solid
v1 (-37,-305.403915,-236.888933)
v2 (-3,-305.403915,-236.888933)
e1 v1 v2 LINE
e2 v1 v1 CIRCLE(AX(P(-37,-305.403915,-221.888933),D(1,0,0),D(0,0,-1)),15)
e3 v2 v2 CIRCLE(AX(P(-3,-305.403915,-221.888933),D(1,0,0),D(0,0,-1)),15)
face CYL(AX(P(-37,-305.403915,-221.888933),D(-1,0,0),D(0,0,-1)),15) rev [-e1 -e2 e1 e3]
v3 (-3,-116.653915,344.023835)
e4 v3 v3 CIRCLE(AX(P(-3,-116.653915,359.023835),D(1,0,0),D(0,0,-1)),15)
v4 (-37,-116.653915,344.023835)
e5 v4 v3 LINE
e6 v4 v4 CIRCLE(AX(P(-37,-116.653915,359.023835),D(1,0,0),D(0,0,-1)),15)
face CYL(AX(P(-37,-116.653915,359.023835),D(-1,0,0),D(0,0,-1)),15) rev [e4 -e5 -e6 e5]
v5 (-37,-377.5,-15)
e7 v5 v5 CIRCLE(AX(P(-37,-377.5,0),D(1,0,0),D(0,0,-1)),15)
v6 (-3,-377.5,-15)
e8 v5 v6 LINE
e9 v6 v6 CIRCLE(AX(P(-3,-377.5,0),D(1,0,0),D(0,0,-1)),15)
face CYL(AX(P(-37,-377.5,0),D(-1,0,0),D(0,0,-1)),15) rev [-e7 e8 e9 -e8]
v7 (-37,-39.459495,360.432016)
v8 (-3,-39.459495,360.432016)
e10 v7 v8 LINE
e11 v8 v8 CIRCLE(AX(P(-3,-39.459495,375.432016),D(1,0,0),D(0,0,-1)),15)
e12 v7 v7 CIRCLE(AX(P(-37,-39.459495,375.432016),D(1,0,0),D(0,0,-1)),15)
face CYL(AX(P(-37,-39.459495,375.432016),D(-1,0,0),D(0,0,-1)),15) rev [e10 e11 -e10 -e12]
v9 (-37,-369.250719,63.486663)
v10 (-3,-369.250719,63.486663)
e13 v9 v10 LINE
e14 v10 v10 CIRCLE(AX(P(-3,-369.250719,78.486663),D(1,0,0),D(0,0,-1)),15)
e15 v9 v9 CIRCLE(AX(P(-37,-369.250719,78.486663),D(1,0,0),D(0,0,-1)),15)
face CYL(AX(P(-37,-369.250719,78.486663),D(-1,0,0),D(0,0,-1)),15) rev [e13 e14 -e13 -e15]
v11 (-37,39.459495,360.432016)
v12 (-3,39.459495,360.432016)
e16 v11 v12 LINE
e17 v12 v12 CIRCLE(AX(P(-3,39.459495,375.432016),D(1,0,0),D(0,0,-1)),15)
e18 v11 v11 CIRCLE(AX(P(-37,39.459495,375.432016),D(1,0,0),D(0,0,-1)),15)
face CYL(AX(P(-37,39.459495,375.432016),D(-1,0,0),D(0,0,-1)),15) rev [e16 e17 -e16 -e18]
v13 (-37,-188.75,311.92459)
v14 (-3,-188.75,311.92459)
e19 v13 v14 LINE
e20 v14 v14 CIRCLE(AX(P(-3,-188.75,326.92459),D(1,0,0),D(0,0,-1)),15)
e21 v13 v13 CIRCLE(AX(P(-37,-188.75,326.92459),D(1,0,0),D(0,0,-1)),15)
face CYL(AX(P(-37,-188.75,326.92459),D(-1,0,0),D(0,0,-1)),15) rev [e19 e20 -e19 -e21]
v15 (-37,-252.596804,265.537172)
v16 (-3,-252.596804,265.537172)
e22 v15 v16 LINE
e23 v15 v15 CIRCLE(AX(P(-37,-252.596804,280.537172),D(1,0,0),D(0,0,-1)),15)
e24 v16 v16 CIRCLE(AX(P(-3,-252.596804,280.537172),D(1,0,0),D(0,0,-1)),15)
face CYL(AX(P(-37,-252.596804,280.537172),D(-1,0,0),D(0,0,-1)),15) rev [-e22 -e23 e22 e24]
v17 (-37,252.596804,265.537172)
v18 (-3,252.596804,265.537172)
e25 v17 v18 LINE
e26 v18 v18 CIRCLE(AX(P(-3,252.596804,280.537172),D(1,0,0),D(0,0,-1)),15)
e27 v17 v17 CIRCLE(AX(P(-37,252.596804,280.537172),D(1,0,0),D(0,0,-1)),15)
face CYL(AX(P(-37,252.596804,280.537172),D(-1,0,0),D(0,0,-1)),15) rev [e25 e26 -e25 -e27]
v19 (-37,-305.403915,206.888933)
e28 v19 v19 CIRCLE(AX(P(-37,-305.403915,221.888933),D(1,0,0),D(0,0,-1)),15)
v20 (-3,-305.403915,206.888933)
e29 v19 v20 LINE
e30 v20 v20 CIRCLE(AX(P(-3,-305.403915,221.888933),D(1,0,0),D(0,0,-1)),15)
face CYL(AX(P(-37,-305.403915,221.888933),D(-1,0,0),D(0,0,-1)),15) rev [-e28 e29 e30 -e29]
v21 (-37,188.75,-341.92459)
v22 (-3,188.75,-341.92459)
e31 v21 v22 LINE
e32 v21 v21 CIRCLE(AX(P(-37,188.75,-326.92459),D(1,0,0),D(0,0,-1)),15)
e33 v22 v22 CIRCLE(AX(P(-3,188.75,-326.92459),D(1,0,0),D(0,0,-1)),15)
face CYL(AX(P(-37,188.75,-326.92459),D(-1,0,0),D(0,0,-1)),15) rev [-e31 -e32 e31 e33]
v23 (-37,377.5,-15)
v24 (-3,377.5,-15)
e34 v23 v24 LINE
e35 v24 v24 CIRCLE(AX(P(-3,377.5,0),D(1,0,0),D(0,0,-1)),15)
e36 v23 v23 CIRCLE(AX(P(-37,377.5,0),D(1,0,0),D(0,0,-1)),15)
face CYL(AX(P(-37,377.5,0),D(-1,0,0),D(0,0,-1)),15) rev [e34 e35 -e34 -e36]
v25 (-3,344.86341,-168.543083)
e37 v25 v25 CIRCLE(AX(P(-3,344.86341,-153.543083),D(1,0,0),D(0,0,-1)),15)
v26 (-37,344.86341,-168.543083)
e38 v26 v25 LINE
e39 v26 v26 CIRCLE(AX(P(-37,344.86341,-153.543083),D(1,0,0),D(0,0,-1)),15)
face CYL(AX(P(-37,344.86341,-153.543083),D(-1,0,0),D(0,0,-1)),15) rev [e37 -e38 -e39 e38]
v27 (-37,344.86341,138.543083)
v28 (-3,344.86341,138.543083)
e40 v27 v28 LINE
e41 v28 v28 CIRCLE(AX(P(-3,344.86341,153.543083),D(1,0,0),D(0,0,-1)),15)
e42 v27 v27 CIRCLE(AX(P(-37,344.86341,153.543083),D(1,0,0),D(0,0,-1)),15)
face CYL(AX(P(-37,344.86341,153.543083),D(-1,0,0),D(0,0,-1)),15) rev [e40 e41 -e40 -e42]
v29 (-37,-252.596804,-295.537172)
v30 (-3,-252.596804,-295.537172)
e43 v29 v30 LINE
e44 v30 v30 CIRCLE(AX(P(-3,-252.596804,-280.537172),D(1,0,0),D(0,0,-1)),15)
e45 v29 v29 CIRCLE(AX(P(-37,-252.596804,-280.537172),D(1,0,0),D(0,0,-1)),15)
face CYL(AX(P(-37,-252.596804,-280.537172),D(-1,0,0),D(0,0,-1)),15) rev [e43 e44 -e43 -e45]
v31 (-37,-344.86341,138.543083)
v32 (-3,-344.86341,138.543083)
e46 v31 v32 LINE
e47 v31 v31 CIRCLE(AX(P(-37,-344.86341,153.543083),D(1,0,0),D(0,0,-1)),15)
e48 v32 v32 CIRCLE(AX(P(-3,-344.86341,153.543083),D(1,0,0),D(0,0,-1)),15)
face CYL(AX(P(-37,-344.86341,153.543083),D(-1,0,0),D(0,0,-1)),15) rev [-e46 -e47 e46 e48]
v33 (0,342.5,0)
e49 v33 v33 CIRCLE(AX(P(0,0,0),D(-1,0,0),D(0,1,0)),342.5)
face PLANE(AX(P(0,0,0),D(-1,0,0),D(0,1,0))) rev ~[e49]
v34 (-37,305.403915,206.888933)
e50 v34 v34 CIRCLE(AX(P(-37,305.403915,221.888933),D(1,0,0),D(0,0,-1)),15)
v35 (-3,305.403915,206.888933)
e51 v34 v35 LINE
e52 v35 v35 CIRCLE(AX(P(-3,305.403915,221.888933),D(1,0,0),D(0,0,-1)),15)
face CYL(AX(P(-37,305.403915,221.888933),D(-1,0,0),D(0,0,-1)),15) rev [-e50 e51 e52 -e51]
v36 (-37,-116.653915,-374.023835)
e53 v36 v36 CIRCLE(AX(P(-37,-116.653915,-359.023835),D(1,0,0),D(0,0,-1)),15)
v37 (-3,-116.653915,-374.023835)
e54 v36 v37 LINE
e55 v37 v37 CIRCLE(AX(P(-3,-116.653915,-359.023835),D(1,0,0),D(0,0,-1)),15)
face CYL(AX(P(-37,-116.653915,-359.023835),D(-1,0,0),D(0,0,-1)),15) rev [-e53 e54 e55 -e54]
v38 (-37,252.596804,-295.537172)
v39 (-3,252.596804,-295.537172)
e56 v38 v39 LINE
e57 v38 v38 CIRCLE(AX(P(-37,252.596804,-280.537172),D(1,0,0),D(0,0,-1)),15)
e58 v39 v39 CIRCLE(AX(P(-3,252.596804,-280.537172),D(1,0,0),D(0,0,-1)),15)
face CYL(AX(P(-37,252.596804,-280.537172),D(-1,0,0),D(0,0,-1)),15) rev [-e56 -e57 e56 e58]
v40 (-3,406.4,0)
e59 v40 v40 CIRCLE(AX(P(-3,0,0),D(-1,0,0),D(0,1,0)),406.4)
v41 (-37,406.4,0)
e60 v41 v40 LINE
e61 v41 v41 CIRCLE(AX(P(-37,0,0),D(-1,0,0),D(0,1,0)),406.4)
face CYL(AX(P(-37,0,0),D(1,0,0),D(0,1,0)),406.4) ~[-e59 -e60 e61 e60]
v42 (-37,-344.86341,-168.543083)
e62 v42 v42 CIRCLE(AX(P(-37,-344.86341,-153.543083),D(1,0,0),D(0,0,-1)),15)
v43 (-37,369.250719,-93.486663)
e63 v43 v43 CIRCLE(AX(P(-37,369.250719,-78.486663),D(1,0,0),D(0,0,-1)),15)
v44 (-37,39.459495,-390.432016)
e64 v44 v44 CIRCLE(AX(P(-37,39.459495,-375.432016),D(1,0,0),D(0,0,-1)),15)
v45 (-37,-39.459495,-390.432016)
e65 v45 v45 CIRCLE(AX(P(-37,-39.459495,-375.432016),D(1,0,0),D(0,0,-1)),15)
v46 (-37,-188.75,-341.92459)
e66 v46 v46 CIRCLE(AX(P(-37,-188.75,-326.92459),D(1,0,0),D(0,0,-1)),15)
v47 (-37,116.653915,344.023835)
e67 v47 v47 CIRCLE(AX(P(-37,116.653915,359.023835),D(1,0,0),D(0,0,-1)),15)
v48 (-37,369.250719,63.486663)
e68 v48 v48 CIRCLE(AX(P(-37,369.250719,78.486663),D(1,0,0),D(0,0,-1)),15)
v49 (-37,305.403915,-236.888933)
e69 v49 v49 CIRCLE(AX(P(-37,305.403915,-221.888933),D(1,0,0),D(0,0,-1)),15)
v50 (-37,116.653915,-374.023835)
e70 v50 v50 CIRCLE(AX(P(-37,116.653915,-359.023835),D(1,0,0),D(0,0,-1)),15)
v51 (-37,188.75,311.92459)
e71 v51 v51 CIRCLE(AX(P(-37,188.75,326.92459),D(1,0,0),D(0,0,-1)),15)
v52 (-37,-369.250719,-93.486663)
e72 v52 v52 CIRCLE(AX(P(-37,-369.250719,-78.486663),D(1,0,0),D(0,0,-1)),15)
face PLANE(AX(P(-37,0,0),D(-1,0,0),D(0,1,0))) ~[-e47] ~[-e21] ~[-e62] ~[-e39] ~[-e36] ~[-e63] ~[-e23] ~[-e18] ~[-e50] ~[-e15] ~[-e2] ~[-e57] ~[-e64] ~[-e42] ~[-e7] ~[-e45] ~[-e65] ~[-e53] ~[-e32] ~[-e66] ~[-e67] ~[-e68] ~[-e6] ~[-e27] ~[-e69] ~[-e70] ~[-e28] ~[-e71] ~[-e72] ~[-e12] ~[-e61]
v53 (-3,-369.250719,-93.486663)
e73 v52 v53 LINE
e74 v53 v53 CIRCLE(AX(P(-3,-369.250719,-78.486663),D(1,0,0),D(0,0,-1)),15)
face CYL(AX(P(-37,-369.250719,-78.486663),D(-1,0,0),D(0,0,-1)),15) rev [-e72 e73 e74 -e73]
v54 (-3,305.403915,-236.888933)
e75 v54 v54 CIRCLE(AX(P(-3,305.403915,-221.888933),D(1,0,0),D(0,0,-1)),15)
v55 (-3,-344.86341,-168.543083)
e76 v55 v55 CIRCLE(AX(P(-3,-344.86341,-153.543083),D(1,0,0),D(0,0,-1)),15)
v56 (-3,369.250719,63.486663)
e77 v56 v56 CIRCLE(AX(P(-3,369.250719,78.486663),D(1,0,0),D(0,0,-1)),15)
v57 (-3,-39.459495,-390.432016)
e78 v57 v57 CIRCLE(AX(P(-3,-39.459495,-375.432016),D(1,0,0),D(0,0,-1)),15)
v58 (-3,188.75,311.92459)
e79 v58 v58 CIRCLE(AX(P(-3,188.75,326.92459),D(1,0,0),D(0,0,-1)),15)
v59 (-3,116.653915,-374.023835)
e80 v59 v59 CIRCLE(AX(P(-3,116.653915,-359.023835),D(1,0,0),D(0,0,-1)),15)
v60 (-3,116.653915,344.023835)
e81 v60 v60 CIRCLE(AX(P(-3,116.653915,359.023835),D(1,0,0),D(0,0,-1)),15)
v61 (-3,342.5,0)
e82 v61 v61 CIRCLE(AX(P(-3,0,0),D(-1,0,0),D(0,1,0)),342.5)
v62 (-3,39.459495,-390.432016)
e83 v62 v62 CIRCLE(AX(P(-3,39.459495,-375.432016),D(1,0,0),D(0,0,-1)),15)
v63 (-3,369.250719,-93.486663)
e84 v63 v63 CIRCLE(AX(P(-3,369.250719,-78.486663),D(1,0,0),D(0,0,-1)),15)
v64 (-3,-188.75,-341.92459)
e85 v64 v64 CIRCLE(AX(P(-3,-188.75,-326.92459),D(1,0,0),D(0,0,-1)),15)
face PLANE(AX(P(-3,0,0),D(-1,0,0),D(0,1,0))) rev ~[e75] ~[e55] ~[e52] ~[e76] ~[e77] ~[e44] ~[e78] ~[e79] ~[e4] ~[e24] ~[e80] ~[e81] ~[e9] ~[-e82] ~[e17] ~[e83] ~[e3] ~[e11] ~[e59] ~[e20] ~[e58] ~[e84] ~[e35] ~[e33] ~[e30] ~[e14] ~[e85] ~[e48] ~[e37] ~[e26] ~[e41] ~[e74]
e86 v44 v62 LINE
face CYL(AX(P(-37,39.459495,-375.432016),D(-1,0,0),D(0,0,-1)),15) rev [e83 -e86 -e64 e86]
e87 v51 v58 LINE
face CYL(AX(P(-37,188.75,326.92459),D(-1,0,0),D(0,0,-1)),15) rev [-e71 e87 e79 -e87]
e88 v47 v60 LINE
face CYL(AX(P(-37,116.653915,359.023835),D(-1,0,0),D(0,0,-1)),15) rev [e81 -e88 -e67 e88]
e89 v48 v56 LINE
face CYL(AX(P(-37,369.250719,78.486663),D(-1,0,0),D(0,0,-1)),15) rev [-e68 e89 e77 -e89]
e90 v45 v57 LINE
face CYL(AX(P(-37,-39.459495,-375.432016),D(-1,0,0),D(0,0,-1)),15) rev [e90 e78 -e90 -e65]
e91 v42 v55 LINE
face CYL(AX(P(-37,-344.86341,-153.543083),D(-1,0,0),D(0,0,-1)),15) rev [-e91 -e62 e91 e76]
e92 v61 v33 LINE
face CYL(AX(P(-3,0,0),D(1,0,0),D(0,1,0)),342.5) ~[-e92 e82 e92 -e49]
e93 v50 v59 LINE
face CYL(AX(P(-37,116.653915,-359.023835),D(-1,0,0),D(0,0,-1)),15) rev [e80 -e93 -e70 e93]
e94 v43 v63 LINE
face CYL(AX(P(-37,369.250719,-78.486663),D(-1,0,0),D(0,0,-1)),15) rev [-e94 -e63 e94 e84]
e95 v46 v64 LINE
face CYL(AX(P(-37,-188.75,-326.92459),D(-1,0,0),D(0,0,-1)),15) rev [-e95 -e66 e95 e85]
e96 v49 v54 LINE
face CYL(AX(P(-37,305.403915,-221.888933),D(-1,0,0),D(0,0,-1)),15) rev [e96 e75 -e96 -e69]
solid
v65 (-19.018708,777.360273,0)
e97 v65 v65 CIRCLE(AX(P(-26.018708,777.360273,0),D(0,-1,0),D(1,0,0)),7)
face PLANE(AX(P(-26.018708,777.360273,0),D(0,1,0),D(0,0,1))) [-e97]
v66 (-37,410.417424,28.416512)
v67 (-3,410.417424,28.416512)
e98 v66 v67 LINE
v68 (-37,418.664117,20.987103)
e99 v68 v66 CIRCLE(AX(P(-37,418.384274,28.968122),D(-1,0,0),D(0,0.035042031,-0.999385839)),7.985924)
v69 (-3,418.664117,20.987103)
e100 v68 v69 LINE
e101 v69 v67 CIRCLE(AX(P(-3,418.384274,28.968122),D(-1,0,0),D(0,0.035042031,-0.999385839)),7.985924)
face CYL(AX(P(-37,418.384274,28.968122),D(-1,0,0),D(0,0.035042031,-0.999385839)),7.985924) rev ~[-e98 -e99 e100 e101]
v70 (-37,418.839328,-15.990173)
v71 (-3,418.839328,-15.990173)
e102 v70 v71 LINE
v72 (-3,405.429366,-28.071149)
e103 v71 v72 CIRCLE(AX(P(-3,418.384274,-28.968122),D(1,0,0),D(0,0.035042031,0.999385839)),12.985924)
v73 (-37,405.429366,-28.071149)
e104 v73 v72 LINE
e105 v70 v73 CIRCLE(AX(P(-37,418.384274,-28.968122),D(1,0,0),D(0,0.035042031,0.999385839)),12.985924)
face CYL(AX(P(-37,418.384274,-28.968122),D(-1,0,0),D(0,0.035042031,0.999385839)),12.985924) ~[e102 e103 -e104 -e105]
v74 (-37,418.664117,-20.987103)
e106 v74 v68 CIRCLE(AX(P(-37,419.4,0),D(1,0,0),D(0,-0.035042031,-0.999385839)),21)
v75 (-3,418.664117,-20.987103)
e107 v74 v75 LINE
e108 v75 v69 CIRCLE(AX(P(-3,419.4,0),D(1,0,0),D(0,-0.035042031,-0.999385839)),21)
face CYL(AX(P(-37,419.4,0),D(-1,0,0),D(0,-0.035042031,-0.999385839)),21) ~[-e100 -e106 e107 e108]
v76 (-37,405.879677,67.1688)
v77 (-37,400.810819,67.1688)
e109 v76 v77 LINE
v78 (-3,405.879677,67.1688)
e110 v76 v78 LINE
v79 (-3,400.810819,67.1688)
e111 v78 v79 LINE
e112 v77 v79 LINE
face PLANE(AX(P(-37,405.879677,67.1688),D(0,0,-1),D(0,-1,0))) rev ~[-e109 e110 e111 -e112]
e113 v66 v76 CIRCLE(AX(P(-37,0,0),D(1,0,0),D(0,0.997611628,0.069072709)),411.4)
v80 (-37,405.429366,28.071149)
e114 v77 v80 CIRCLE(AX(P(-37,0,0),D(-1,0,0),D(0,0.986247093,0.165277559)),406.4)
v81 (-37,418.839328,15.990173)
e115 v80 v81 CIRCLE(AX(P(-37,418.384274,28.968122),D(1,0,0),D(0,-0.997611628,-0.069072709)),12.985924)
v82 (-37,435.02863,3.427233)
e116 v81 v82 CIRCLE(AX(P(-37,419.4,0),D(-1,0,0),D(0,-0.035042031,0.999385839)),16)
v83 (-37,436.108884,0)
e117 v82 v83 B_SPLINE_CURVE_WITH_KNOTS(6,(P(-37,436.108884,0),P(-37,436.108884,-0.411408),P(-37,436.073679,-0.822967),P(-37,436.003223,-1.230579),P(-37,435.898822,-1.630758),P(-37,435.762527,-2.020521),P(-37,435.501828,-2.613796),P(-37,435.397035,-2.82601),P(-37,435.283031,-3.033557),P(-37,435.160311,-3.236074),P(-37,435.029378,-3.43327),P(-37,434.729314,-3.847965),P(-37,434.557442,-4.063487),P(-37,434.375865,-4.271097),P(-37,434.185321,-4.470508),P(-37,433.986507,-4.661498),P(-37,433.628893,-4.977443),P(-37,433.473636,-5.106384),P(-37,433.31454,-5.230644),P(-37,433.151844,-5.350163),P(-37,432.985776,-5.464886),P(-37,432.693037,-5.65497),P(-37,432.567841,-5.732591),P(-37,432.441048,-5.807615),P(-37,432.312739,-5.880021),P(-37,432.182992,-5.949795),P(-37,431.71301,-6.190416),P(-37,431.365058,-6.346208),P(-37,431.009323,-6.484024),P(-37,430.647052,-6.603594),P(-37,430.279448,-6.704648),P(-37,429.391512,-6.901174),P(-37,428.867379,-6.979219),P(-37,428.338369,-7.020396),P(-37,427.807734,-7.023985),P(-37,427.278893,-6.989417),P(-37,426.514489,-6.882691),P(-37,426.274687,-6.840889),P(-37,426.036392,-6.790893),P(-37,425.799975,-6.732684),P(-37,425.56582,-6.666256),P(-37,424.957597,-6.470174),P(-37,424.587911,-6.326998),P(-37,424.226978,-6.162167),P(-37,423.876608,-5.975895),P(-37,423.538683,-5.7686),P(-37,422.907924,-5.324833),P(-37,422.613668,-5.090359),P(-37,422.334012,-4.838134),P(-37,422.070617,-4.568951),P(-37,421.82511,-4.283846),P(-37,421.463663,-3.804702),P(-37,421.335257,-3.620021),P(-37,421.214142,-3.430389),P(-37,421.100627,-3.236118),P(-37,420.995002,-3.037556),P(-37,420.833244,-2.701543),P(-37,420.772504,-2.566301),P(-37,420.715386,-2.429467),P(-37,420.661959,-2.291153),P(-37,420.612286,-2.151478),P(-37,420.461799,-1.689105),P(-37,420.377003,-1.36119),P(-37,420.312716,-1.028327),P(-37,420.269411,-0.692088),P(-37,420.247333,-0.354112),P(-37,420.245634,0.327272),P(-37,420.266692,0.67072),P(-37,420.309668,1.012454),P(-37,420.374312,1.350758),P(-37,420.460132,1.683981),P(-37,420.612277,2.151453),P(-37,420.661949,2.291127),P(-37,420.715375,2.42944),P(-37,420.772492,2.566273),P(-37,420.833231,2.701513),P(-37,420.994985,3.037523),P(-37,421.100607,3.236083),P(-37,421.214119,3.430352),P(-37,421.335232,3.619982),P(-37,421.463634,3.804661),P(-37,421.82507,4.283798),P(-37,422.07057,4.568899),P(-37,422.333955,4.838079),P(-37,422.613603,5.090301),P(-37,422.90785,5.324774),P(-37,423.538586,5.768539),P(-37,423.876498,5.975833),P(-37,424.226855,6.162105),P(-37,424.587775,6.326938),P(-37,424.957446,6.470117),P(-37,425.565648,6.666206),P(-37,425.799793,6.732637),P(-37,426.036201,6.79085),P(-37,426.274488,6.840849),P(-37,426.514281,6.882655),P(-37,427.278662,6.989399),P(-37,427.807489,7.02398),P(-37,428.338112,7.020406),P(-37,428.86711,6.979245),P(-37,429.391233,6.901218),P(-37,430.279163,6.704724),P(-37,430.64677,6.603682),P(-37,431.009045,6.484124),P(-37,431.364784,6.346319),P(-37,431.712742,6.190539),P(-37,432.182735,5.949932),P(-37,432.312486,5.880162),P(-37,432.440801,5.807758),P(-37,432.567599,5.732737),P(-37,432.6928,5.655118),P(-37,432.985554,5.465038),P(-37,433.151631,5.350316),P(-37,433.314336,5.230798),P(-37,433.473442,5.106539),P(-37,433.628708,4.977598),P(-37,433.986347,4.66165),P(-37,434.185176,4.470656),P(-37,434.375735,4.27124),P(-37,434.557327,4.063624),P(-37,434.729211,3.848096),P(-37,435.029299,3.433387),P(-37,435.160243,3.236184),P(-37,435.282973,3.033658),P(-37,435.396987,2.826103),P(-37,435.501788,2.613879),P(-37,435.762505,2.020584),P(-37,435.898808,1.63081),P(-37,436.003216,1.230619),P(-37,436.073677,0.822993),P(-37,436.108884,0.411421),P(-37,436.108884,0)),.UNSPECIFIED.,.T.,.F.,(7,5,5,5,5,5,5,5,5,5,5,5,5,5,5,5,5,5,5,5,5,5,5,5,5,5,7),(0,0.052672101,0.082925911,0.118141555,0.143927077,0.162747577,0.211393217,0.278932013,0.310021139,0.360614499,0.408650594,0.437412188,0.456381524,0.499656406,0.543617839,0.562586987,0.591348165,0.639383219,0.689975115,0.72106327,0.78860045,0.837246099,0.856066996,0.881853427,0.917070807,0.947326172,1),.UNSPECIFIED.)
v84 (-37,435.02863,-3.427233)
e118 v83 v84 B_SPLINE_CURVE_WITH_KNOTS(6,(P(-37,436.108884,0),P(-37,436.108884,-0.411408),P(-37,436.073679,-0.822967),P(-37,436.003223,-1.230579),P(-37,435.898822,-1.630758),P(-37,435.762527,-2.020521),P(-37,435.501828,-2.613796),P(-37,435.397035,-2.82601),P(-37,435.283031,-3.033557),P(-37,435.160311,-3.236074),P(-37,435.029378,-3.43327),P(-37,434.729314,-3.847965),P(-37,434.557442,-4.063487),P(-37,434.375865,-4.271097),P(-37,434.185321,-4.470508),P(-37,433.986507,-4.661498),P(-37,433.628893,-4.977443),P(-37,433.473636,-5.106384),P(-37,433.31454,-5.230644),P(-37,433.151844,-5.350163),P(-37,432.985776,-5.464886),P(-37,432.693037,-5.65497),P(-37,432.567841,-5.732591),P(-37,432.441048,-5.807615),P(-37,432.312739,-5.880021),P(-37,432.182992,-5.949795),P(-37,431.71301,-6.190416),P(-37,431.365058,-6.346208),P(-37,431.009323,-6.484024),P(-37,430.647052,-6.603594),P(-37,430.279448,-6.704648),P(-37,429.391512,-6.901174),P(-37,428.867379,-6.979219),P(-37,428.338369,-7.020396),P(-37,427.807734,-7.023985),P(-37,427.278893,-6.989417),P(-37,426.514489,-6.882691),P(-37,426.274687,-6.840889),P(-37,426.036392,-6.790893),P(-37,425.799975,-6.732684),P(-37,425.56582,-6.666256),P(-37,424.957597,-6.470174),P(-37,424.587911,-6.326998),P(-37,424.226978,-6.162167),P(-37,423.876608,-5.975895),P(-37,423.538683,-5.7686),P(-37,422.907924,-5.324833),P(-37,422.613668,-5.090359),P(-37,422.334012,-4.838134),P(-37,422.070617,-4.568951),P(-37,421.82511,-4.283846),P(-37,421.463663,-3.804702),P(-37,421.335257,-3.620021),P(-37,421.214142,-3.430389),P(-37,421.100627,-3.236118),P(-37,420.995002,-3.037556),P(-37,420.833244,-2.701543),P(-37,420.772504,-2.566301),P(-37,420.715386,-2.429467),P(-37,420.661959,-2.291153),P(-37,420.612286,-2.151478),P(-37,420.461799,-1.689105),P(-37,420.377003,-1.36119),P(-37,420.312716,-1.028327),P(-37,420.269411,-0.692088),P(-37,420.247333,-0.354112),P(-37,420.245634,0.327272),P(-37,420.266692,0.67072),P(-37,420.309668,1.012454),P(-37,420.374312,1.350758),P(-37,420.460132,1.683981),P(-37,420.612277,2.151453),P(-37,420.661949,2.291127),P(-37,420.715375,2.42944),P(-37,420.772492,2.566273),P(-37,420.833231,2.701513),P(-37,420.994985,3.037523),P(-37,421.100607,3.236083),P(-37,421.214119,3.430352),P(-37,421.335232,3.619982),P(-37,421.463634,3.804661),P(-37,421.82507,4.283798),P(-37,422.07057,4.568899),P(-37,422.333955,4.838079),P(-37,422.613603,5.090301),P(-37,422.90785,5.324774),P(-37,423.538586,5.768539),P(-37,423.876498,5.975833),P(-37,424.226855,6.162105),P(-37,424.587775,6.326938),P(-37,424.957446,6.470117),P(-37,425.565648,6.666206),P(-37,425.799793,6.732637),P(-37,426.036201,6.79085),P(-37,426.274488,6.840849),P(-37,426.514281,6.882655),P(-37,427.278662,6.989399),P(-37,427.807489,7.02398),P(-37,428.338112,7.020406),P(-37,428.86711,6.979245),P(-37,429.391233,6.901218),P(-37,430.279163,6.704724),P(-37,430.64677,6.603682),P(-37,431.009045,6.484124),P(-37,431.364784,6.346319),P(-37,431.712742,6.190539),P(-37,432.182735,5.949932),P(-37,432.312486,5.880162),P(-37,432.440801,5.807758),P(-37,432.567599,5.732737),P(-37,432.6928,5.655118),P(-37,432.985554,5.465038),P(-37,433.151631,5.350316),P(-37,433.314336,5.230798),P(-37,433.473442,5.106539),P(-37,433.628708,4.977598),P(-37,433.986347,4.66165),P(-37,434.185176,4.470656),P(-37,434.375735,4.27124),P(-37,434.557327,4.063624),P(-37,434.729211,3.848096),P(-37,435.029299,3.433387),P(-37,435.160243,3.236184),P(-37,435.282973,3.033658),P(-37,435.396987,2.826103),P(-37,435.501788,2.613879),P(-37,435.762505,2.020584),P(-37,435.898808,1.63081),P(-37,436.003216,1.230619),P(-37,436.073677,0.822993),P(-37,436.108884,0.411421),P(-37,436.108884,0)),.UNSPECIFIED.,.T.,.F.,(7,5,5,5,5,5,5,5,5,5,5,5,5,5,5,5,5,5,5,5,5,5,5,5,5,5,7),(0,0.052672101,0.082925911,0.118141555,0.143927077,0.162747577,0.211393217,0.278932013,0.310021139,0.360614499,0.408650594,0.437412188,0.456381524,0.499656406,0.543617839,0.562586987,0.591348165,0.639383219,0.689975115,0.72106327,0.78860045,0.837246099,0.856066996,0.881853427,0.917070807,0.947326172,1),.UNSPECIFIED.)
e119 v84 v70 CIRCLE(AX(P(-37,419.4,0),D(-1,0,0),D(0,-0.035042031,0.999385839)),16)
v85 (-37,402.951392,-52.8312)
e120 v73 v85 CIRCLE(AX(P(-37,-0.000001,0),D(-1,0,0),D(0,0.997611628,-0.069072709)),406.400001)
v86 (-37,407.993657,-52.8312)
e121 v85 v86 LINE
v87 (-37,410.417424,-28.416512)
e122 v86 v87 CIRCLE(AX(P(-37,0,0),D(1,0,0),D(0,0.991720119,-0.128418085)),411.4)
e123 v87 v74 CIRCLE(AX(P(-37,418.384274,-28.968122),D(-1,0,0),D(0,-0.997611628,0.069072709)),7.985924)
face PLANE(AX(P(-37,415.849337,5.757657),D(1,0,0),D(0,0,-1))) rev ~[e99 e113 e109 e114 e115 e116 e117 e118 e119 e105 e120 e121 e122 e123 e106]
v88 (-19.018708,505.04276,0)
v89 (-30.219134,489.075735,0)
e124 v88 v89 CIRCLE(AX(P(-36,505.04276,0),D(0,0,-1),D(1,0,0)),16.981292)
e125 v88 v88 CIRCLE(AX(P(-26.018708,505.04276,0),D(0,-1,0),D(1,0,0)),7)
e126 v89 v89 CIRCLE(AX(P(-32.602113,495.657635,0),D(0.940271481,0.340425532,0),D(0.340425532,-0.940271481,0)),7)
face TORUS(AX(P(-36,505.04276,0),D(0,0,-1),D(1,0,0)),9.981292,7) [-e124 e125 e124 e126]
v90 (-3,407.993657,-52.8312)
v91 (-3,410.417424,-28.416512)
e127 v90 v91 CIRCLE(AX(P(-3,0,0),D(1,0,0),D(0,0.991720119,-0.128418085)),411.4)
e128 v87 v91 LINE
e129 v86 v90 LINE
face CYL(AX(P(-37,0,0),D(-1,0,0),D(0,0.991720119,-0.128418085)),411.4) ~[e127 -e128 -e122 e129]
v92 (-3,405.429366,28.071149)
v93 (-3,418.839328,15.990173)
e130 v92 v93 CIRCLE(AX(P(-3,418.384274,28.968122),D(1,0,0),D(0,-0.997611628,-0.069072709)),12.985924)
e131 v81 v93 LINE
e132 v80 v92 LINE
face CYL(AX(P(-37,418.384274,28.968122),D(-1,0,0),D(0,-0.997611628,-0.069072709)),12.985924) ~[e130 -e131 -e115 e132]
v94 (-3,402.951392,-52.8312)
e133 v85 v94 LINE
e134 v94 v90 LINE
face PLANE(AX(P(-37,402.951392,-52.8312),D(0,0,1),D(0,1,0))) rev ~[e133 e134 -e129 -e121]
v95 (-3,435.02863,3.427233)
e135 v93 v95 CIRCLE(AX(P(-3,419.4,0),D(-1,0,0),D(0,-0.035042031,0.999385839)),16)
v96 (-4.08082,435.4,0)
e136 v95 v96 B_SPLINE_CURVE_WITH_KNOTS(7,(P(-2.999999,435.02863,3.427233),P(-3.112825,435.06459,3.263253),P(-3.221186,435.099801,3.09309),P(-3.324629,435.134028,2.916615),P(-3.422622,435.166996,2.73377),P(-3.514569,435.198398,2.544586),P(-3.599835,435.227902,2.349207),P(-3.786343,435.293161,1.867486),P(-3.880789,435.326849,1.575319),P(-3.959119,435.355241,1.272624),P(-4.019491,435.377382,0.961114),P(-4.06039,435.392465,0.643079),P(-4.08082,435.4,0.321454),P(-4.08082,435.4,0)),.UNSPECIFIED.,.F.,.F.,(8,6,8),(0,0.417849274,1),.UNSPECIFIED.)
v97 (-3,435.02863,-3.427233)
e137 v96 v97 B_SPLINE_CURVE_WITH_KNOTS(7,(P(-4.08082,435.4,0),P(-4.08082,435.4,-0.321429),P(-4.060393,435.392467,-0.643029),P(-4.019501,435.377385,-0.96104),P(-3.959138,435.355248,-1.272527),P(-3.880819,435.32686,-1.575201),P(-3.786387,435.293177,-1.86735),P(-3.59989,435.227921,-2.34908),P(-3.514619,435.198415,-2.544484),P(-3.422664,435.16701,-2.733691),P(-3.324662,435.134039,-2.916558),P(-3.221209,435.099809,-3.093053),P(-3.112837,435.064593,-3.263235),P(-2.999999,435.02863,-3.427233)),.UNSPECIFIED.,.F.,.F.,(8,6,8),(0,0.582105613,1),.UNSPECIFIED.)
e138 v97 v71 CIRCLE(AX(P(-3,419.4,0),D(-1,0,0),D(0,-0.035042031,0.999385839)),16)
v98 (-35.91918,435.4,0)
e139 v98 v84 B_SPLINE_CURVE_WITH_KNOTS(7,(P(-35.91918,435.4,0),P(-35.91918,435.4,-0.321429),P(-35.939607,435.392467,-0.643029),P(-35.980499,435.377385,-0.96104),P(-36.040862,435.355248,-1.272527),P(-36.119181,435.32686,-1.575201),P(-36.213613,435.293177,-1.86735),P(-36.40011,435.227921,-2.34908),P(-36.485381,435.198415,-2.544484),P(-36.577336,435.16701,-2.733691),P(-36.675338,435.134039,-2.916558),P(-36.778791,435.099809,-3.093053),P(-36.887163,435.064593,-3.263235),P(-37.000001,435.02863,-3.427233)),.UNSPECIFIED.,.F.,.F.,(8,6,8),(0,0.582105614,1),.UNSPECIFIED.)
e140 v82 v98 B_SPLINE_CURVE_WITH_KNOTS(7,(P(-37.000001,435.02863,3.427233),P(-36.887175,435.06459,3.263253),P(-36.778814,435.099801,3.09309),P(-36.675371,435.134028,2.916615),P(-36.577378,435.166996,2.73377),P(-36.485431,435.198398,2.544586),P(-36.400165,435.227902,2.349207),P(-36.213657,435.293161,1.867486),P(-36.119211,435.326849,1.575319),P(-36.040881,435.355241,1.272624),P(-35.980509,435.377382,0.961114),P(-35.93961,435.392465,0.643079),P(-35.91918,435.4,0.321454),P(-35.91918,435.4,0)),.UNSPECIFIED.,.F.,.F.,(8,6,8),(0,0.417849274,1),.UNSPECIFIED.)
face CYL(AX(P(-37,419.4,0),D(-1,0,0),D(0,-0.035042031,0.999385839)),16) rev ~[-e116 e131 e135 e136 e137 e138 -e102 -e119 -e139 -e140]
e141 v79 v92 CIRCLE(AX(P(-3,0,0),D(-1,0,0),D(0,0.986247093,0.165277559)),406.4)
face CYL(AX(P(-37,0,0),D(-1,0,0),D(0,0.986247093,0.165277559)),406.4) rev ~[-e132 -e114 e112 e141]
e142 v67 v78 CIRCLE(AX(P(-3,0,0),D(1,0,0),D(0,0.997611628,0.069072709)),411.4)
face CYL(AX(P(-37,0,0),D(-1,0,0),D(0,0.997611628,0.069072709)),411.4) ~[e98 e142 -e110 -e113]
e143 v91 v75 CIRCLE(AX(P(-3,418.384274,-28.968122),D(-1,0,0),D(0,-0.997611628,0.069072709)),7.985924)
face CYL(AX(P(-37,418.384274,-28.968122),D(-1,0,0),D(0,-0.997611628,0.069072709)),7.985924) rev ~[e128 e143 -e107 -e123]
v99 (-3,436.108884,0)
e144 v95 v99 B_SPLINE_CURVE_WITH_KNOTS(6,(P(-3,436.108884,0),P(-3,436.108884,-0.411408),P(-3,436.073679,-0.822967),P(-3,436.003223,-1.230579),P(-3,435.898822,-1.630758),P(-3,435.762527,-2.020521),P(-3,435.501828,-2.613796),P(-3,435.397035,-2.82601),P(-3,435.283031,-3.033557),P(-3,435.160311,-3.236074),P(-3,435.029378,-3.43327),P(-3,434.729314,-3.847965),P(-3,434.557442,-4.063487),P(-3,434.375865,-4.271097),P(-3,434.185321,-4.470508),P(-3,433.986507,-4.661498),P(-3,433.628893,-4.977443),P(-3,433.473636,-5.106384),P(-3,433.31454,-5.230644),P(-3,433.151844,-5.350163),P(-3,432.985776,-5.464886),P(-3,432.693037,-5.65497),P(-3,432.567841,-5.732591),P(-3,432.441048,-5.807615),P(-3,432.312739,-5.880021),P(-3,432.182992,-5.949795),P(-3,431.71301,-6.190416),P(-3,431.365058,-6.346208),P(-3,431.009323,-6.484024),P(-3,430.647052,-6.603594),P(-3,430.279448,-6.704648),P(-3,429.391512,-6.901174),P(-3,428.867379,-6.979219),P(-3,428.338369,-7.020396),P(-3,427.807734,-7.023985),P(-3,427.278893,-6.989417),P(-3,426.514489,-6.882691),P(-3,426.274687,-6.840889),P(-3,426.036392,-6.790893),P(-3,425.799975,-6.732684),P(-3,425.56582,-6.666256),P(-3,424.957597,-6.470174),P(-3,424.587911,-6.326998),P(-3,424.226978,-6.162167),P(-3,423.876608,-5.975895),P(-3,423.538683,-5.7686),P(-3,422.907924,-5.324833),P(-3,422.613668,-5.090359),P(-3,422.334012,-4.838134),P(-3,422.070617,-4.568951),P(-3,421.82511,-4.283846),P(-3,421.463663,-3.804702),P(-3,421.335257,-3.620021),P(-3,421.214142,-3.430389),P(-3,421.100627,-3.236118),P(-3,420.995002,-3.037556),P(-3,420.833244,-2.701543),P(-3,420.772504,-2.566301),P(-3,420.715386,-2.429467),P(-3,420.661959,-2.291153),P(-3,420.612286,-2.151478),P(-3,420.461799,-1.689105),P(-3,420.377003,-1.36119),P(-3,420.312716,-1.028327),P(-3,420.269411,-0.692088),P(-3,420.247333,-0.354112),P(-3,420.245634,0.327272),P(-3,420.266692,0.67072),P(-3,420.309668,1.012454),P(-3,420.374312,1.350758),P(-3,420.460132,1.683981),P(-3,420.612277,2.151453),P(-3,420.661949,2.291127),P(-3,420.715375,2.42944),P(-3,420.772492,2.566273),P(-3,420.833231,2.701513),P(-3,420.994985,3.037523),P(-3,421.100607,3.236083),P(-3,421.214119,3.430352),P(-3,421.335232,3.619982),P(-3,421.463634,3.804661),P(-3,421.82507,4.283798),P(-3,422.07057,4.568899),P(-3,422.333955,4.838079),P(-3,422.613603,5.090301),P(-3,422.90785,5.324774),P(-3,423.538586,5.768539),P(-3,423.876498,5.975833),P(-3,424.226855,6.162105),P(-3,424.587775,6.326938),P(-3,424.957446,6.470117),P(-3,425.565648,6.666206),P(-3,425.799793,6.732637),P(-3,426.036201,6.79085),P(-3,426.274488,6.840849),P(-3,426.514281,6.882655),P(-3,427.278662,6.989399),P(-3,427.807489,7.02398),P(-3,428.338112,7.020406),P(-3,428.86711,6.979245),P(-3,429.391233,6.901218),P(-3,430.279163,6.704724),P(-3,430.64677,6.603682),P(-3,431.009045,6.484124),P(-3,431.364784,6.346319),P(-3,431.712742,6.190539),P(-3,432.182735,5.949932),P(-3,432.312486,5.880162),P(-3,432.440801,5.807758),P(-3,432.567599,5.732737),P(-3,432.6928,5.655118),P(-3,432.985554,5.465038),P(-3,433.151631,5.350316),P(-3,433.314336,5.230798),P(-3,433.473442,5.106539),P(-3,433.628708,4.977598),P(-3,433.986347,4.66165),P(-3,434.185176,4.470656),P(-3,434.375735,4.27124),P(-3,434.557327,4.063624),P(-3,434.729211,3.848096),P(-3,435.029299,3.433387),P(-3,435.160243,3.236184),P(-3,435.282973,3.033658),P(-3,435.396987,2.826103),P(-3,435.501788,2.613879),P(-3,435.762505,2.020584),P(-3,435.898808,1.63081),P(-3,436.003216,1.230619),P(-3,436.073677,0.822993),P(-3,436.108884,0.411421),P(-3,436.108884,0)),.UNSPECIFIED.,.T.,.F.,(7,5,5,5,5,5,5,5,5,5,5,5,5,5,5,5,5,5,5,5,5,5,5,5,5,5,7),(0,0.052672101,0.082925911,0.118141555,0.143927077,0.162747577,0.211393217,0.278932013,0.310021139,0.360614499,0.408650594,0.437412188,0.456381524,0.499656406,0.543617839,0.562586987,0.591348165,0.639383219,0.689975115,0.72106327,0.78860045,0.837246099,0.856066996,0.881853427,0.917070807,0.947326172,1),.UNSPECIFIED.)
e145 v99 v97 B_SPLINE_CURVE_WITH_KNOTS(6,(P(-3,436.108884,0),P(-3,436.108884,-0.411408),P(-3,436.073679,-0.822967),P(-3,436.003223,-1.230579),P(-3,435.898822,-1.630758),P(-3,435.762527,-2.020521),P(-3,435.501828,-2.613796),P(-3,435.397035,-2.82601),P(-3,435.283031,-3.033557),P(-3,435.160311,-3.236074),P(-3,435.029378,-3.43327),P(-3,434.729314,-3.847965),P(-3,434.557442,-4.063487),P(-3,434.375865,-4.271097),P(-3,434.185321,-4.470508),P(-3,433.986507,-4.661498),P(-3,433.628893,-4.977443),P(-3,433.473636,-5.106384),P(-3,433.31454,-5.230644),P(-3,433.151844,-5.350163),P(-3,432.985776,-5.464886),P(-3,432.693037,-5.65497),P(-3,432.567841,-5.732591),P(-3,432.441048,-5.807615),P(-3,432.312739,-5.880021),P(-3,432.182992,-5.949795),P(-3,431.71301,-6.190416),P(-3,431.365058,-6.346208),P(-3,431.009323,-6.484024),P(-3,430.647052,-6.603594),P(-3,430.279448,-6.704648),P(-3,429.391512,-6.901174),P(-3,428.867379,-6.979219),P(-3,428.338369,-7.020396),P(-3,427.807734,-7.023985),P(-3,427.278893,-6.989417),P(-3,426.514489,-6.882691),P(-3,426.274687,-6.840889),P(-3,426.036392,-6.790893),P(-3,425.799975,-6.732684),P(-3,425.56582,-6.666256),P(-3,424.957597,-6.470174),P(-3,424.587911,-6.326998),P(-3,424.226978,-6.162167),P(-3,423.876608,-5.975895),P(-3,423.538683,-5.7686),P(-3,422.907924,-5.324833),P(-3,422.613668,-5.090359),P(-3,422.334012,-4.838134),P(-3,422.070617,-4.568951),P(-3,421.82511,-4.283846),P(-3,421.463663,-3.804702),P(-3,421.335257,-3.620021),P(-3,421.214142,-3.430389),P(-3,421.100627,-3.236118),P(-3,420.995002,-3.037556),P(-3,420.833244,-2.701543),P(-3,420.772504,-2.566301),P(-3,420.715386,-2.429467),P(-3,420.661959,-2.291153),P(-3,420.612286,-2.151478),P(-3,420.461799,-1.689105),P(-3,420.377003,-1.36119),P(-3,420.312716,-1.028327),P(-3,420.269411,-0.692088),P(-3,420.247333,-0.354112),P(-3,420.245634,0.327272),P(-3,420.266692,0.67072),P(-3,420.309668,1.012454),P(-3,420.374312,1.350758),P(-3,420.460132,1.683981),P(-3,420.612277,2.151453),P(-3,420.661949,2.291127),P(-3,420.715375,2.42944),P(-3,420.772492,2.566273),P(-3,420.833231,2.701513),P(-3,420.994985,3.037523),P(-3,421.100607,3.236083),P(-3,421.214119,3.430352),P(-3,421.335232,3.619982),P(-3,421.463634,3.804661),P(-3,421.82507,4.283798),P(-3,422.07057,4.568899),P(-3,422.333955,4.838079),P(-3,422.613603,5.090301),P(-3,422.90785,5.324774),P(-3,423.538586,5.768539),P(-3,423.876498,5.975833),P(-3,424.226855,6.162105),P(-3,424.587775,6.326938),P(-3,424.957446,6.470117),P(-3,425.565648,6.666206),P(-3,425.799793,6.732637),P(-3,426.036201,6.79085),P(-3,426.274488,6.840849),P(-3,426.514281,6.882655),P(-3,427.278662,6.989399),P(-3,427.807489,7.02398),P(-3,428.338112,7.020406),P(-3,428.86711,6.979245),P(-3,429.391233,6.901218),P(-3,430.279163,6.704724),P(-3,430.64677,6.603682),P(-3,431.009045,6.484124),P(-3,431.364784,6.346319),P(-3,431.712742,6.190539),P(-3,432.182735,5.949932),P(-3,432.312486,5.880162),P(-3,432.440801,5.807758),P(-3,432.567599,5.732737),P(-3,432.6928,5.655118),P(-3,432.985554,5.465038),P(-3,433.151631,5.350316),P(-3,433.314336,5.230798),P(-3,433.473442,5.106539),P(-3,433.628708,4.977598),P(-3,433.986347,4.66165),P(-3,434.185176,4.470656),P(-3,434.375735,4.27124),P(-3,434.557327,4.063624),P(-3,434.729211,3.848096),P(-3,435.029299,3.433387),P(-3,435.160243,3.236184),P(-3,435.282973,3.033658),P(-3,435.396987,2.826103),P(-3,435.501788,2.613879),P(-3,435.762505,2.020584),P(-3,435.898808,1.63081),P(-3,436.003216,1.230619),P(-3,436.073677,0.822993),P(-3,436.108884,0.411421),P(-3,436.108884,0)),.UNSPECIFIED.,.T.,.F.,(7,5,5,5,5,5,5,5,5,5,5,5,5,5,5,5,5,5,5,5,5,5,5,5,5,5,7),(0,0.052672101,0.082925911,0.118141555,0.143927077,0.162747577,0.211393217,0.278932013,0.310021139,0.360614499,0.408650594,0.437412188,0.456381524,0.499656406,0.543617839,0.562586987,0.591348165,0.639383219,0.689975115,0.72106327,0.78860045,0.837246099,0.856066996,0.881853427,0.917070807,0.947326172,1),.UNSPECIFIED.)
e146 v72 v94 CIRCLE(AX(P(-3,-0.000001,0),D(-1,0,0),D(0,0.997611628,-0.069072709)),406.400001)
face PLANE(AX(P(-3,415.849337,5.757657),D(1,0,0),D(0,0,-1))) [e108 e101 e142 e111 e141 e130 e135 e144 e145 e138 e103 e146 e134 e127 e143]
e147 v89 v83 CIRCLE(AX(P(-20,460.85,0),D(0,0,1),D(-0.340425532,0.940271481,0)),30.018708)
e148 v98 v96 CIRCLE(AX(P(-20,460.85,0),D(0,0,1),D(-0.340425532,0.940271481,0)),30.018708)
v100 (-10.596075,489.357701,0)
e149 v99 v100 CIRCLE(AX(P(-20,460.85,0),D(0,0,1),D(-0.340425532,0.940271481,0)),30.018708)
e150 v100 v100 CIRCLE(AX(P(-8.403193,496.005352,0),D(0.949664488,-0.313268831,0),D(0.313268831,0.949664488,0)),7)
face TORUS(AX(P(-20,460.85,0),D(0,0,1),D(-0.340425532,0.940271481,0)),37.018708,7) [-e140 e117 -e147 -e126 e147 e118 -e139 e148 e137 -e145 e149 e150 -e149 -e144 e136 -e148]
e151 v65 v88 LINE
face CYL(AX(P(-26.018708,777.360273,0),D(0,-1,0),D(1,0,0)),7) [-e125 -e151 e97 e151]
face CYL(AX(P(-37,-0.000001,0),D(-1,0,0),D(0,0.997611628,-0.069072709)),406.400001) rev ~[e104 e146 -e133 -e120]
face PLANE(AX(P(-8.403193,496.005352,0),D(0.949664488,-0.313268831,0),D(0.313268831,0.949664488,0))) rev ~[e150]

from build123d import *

# Parameters (mm, degrees)
CUT_EXTRUDE1_START  = -37
SKETCH2_R           = 15
CUT_EXTRUDE1_DEPTH  = 34
BOSS_EXTRUDE1_DEPTH = 34
SKETCH5_R           = 7


with BuildPart() as part:
    # Sketch1 → Revolve1 (revolve)
    with BuildSketch(Plane.XY):
        Polygon((0, 0), (-37, 0), (-37, 406.4), (-3, 406.4), (-3, 342.5), (0, 342.5), align=None)
    revolve(axis=Axis((0, 0, 0), (-1, 0, 0)))

    # Sketch2 → Cut-Extrude1 (cut)
    with BuildSketch(Plane(origin=(0, 0, 0), x_dir=(0, 0, -1), z_dir=(1, 0, 0)).offset(CUT_EXTRUDE1_START)):
        with Locations((0, 377.5)):
            Circle(SKETCH2_R)
        with Locations((78.486663284, 369.250719277)):
            Circle(SKETCH2_R)
        with Locations((153.543082761, 344.86341026)):
            Circle(SKETCH2_R)
        with Locations((221.88893274, 305.403915377)):
            Circle(SKETCH2_R)
        with Locations((280.537171618, 252.5968039)):
            Circle(SKETCH2_R)
        with Locations((326.924589929, 188.75)):
            Circle(SKETCH2_R)
        with Locations((359.023834901, 116.653915377)):
            Circle(SKETCH2_R)
        with Locations((375.432015502, 39.459494884)):
            Circle(SKETCH2_R)
        with Locations((375.432015502, -39.459494884)):
            Circle(SKETCH2_R)
        with Locations((359.023834901, -116.653915377)):
            Circle(SKETCH2_R)
        with Locations((326.924589929, -188.75)):
            Circle(SKETCH2_R)
        with Locations((280.537171618, -252.5968039)):
            Circle(SKETCH2_R)
        with Locations((221.88893274, -305.403915377)):
            Circle(SKETCH2_R)
        with Locations((153.543082761, -344.86341026)):
            Circle(SKETCH2_R)
        with Locations((78.486663284, -369.250719277)):
            Circle(SKETCH2_R)
        with Locations((0, -377.5)):
            Circle(SKETCH2_R)
        with Locations((-78.486663284, -369.250719277)):
            Circle(SKETCH2_R)
        with Locations((-153.543082761, -344.86341026)):
            Circle(SKETCH2_R)
        with Locations((-221.88893274, -305.403915377)):
            Circle(SKETCH2_R)
        with Locations((-280.537171618, -252.5968039)):
            Circle(SKETCH2_R)
        with Locations((-326.924589929, -188.75)):
            Circle(SKETCH2_R)
        with Locations((-359.023834901, -116.653915377)):
            Circle(SKETCH2_R)
        with Locations((-375.432015502, -39.459494884)):
            Circle(SKETCH2_R)
        with Locations((-375.432015502, 39.459494884)):
            Circle(SKETCH2_R)
        with Locations((-359.023834901, 116.653915377)):
            Circle(SKETCH2_R)
        with Locations((-326.924589929, 188.75)):
            Circle(SKETCH2_R)
        with Locations((-280.537171618, 252.5968039)):
            Circle(SKETCH2_R)
        with Locations((-221.88893274, 305.403915377)):
            Circle(SKETCH2_R)
        with Locations((-153.543082761, 344.86341026)):
            Circle(SKETCH2_R)
        with Locations((-78.486663284, 369.250719277)):
            Circle(SKETCH2_R)
    extrude(amount=CUT_EXTRUDE1_DEPTH, mode=Mode.SUBTRACT)


with BuildPart() as body_2:
    # Sketch3 → Boss-Extrude1 (new body)
    with BuildSketch(Plane.ZY.offset(37)):
        with BuildLine():
            Line((-52.831200216, 402.951391962), (-52.831200216, 407.993657161))
            ThreePointArc((-52.831200216, 407.993657161), (-40.641928644, 409.387583637), (-28.416512433, 410.417423876))
            ThreePointArc((-28.416512433, 410.417423876), (-23.034874319, 413.039037829), (-20.987102628, 418.664117349))
            ThreePointArc((-20.987102628, 418.664117349), (0, 440.4), (20.987102628, 418.664117349))
            ThreePointArc((20.987102628, 418.664117349), (23.034874319, 413.039037829), (28.416512433, 410.417423876))
            ThreePointArc((28.416512433, 410.417423876), (47.84648121, 408.608216065), (67.168799784, 405.879677165))
            Line((67.168799784, 405.879677165), (67.168799784, 400.810818636))
            ThreePointArc((67.168799784, 400.810818636), (47.675934182, 403.593812267), (28.071148888, 405.429365735))
            ThreePointArc((28.071148888, 405.429365735), (19.320058333, 409.692376479), (15.990173431, 418.839327504))
            ThreePointArc((15.990173431, 418.839327504), (0, 435.4), (-15.990173431, 418.839327504))
            ThreePointArc((-15.990173431, 418.839327504), (-19.320058333, 409.692376479), (-28.071148888, 405.429365735))
            ThreePointArc((-28.071148888, 405.429365735), (-40.470144689, 404.379929508), (-52.831200216, 402.951391962))
        make_face()
    extrude(amount=-BOSS_EXTRUDE1_DEPTH)

    # Sweep1: sweep along a path in Sketch4
    with BuildLine(Plane.XY) as sweep1_path:
        Line((-26, 777.360272527), (-26, 505.042759588))
        ThreePointArc((-26, 505.042759588), (-27.813347656, 499.30004913), (-32.595744681, 495.640044782))
        ThreePointArc((-32.595744681, 495.640044782), (-19.468397742, 423.853819129), (-8.409053262, 495.987586054))
    # Sketch5 → Sweep1 (sweep)
    with BuildSketch(Plane(origin=(0, 777.360272527, 0), x_dir=(1, 0, 0), z_dir=(0, 1, 0))):
        with Locations((-26.018707551, 0)):
            Circle(SKETCH5_R)
    sweep(path=sweep1_path.line)


solid = Compound([part.part, body_2.part])
